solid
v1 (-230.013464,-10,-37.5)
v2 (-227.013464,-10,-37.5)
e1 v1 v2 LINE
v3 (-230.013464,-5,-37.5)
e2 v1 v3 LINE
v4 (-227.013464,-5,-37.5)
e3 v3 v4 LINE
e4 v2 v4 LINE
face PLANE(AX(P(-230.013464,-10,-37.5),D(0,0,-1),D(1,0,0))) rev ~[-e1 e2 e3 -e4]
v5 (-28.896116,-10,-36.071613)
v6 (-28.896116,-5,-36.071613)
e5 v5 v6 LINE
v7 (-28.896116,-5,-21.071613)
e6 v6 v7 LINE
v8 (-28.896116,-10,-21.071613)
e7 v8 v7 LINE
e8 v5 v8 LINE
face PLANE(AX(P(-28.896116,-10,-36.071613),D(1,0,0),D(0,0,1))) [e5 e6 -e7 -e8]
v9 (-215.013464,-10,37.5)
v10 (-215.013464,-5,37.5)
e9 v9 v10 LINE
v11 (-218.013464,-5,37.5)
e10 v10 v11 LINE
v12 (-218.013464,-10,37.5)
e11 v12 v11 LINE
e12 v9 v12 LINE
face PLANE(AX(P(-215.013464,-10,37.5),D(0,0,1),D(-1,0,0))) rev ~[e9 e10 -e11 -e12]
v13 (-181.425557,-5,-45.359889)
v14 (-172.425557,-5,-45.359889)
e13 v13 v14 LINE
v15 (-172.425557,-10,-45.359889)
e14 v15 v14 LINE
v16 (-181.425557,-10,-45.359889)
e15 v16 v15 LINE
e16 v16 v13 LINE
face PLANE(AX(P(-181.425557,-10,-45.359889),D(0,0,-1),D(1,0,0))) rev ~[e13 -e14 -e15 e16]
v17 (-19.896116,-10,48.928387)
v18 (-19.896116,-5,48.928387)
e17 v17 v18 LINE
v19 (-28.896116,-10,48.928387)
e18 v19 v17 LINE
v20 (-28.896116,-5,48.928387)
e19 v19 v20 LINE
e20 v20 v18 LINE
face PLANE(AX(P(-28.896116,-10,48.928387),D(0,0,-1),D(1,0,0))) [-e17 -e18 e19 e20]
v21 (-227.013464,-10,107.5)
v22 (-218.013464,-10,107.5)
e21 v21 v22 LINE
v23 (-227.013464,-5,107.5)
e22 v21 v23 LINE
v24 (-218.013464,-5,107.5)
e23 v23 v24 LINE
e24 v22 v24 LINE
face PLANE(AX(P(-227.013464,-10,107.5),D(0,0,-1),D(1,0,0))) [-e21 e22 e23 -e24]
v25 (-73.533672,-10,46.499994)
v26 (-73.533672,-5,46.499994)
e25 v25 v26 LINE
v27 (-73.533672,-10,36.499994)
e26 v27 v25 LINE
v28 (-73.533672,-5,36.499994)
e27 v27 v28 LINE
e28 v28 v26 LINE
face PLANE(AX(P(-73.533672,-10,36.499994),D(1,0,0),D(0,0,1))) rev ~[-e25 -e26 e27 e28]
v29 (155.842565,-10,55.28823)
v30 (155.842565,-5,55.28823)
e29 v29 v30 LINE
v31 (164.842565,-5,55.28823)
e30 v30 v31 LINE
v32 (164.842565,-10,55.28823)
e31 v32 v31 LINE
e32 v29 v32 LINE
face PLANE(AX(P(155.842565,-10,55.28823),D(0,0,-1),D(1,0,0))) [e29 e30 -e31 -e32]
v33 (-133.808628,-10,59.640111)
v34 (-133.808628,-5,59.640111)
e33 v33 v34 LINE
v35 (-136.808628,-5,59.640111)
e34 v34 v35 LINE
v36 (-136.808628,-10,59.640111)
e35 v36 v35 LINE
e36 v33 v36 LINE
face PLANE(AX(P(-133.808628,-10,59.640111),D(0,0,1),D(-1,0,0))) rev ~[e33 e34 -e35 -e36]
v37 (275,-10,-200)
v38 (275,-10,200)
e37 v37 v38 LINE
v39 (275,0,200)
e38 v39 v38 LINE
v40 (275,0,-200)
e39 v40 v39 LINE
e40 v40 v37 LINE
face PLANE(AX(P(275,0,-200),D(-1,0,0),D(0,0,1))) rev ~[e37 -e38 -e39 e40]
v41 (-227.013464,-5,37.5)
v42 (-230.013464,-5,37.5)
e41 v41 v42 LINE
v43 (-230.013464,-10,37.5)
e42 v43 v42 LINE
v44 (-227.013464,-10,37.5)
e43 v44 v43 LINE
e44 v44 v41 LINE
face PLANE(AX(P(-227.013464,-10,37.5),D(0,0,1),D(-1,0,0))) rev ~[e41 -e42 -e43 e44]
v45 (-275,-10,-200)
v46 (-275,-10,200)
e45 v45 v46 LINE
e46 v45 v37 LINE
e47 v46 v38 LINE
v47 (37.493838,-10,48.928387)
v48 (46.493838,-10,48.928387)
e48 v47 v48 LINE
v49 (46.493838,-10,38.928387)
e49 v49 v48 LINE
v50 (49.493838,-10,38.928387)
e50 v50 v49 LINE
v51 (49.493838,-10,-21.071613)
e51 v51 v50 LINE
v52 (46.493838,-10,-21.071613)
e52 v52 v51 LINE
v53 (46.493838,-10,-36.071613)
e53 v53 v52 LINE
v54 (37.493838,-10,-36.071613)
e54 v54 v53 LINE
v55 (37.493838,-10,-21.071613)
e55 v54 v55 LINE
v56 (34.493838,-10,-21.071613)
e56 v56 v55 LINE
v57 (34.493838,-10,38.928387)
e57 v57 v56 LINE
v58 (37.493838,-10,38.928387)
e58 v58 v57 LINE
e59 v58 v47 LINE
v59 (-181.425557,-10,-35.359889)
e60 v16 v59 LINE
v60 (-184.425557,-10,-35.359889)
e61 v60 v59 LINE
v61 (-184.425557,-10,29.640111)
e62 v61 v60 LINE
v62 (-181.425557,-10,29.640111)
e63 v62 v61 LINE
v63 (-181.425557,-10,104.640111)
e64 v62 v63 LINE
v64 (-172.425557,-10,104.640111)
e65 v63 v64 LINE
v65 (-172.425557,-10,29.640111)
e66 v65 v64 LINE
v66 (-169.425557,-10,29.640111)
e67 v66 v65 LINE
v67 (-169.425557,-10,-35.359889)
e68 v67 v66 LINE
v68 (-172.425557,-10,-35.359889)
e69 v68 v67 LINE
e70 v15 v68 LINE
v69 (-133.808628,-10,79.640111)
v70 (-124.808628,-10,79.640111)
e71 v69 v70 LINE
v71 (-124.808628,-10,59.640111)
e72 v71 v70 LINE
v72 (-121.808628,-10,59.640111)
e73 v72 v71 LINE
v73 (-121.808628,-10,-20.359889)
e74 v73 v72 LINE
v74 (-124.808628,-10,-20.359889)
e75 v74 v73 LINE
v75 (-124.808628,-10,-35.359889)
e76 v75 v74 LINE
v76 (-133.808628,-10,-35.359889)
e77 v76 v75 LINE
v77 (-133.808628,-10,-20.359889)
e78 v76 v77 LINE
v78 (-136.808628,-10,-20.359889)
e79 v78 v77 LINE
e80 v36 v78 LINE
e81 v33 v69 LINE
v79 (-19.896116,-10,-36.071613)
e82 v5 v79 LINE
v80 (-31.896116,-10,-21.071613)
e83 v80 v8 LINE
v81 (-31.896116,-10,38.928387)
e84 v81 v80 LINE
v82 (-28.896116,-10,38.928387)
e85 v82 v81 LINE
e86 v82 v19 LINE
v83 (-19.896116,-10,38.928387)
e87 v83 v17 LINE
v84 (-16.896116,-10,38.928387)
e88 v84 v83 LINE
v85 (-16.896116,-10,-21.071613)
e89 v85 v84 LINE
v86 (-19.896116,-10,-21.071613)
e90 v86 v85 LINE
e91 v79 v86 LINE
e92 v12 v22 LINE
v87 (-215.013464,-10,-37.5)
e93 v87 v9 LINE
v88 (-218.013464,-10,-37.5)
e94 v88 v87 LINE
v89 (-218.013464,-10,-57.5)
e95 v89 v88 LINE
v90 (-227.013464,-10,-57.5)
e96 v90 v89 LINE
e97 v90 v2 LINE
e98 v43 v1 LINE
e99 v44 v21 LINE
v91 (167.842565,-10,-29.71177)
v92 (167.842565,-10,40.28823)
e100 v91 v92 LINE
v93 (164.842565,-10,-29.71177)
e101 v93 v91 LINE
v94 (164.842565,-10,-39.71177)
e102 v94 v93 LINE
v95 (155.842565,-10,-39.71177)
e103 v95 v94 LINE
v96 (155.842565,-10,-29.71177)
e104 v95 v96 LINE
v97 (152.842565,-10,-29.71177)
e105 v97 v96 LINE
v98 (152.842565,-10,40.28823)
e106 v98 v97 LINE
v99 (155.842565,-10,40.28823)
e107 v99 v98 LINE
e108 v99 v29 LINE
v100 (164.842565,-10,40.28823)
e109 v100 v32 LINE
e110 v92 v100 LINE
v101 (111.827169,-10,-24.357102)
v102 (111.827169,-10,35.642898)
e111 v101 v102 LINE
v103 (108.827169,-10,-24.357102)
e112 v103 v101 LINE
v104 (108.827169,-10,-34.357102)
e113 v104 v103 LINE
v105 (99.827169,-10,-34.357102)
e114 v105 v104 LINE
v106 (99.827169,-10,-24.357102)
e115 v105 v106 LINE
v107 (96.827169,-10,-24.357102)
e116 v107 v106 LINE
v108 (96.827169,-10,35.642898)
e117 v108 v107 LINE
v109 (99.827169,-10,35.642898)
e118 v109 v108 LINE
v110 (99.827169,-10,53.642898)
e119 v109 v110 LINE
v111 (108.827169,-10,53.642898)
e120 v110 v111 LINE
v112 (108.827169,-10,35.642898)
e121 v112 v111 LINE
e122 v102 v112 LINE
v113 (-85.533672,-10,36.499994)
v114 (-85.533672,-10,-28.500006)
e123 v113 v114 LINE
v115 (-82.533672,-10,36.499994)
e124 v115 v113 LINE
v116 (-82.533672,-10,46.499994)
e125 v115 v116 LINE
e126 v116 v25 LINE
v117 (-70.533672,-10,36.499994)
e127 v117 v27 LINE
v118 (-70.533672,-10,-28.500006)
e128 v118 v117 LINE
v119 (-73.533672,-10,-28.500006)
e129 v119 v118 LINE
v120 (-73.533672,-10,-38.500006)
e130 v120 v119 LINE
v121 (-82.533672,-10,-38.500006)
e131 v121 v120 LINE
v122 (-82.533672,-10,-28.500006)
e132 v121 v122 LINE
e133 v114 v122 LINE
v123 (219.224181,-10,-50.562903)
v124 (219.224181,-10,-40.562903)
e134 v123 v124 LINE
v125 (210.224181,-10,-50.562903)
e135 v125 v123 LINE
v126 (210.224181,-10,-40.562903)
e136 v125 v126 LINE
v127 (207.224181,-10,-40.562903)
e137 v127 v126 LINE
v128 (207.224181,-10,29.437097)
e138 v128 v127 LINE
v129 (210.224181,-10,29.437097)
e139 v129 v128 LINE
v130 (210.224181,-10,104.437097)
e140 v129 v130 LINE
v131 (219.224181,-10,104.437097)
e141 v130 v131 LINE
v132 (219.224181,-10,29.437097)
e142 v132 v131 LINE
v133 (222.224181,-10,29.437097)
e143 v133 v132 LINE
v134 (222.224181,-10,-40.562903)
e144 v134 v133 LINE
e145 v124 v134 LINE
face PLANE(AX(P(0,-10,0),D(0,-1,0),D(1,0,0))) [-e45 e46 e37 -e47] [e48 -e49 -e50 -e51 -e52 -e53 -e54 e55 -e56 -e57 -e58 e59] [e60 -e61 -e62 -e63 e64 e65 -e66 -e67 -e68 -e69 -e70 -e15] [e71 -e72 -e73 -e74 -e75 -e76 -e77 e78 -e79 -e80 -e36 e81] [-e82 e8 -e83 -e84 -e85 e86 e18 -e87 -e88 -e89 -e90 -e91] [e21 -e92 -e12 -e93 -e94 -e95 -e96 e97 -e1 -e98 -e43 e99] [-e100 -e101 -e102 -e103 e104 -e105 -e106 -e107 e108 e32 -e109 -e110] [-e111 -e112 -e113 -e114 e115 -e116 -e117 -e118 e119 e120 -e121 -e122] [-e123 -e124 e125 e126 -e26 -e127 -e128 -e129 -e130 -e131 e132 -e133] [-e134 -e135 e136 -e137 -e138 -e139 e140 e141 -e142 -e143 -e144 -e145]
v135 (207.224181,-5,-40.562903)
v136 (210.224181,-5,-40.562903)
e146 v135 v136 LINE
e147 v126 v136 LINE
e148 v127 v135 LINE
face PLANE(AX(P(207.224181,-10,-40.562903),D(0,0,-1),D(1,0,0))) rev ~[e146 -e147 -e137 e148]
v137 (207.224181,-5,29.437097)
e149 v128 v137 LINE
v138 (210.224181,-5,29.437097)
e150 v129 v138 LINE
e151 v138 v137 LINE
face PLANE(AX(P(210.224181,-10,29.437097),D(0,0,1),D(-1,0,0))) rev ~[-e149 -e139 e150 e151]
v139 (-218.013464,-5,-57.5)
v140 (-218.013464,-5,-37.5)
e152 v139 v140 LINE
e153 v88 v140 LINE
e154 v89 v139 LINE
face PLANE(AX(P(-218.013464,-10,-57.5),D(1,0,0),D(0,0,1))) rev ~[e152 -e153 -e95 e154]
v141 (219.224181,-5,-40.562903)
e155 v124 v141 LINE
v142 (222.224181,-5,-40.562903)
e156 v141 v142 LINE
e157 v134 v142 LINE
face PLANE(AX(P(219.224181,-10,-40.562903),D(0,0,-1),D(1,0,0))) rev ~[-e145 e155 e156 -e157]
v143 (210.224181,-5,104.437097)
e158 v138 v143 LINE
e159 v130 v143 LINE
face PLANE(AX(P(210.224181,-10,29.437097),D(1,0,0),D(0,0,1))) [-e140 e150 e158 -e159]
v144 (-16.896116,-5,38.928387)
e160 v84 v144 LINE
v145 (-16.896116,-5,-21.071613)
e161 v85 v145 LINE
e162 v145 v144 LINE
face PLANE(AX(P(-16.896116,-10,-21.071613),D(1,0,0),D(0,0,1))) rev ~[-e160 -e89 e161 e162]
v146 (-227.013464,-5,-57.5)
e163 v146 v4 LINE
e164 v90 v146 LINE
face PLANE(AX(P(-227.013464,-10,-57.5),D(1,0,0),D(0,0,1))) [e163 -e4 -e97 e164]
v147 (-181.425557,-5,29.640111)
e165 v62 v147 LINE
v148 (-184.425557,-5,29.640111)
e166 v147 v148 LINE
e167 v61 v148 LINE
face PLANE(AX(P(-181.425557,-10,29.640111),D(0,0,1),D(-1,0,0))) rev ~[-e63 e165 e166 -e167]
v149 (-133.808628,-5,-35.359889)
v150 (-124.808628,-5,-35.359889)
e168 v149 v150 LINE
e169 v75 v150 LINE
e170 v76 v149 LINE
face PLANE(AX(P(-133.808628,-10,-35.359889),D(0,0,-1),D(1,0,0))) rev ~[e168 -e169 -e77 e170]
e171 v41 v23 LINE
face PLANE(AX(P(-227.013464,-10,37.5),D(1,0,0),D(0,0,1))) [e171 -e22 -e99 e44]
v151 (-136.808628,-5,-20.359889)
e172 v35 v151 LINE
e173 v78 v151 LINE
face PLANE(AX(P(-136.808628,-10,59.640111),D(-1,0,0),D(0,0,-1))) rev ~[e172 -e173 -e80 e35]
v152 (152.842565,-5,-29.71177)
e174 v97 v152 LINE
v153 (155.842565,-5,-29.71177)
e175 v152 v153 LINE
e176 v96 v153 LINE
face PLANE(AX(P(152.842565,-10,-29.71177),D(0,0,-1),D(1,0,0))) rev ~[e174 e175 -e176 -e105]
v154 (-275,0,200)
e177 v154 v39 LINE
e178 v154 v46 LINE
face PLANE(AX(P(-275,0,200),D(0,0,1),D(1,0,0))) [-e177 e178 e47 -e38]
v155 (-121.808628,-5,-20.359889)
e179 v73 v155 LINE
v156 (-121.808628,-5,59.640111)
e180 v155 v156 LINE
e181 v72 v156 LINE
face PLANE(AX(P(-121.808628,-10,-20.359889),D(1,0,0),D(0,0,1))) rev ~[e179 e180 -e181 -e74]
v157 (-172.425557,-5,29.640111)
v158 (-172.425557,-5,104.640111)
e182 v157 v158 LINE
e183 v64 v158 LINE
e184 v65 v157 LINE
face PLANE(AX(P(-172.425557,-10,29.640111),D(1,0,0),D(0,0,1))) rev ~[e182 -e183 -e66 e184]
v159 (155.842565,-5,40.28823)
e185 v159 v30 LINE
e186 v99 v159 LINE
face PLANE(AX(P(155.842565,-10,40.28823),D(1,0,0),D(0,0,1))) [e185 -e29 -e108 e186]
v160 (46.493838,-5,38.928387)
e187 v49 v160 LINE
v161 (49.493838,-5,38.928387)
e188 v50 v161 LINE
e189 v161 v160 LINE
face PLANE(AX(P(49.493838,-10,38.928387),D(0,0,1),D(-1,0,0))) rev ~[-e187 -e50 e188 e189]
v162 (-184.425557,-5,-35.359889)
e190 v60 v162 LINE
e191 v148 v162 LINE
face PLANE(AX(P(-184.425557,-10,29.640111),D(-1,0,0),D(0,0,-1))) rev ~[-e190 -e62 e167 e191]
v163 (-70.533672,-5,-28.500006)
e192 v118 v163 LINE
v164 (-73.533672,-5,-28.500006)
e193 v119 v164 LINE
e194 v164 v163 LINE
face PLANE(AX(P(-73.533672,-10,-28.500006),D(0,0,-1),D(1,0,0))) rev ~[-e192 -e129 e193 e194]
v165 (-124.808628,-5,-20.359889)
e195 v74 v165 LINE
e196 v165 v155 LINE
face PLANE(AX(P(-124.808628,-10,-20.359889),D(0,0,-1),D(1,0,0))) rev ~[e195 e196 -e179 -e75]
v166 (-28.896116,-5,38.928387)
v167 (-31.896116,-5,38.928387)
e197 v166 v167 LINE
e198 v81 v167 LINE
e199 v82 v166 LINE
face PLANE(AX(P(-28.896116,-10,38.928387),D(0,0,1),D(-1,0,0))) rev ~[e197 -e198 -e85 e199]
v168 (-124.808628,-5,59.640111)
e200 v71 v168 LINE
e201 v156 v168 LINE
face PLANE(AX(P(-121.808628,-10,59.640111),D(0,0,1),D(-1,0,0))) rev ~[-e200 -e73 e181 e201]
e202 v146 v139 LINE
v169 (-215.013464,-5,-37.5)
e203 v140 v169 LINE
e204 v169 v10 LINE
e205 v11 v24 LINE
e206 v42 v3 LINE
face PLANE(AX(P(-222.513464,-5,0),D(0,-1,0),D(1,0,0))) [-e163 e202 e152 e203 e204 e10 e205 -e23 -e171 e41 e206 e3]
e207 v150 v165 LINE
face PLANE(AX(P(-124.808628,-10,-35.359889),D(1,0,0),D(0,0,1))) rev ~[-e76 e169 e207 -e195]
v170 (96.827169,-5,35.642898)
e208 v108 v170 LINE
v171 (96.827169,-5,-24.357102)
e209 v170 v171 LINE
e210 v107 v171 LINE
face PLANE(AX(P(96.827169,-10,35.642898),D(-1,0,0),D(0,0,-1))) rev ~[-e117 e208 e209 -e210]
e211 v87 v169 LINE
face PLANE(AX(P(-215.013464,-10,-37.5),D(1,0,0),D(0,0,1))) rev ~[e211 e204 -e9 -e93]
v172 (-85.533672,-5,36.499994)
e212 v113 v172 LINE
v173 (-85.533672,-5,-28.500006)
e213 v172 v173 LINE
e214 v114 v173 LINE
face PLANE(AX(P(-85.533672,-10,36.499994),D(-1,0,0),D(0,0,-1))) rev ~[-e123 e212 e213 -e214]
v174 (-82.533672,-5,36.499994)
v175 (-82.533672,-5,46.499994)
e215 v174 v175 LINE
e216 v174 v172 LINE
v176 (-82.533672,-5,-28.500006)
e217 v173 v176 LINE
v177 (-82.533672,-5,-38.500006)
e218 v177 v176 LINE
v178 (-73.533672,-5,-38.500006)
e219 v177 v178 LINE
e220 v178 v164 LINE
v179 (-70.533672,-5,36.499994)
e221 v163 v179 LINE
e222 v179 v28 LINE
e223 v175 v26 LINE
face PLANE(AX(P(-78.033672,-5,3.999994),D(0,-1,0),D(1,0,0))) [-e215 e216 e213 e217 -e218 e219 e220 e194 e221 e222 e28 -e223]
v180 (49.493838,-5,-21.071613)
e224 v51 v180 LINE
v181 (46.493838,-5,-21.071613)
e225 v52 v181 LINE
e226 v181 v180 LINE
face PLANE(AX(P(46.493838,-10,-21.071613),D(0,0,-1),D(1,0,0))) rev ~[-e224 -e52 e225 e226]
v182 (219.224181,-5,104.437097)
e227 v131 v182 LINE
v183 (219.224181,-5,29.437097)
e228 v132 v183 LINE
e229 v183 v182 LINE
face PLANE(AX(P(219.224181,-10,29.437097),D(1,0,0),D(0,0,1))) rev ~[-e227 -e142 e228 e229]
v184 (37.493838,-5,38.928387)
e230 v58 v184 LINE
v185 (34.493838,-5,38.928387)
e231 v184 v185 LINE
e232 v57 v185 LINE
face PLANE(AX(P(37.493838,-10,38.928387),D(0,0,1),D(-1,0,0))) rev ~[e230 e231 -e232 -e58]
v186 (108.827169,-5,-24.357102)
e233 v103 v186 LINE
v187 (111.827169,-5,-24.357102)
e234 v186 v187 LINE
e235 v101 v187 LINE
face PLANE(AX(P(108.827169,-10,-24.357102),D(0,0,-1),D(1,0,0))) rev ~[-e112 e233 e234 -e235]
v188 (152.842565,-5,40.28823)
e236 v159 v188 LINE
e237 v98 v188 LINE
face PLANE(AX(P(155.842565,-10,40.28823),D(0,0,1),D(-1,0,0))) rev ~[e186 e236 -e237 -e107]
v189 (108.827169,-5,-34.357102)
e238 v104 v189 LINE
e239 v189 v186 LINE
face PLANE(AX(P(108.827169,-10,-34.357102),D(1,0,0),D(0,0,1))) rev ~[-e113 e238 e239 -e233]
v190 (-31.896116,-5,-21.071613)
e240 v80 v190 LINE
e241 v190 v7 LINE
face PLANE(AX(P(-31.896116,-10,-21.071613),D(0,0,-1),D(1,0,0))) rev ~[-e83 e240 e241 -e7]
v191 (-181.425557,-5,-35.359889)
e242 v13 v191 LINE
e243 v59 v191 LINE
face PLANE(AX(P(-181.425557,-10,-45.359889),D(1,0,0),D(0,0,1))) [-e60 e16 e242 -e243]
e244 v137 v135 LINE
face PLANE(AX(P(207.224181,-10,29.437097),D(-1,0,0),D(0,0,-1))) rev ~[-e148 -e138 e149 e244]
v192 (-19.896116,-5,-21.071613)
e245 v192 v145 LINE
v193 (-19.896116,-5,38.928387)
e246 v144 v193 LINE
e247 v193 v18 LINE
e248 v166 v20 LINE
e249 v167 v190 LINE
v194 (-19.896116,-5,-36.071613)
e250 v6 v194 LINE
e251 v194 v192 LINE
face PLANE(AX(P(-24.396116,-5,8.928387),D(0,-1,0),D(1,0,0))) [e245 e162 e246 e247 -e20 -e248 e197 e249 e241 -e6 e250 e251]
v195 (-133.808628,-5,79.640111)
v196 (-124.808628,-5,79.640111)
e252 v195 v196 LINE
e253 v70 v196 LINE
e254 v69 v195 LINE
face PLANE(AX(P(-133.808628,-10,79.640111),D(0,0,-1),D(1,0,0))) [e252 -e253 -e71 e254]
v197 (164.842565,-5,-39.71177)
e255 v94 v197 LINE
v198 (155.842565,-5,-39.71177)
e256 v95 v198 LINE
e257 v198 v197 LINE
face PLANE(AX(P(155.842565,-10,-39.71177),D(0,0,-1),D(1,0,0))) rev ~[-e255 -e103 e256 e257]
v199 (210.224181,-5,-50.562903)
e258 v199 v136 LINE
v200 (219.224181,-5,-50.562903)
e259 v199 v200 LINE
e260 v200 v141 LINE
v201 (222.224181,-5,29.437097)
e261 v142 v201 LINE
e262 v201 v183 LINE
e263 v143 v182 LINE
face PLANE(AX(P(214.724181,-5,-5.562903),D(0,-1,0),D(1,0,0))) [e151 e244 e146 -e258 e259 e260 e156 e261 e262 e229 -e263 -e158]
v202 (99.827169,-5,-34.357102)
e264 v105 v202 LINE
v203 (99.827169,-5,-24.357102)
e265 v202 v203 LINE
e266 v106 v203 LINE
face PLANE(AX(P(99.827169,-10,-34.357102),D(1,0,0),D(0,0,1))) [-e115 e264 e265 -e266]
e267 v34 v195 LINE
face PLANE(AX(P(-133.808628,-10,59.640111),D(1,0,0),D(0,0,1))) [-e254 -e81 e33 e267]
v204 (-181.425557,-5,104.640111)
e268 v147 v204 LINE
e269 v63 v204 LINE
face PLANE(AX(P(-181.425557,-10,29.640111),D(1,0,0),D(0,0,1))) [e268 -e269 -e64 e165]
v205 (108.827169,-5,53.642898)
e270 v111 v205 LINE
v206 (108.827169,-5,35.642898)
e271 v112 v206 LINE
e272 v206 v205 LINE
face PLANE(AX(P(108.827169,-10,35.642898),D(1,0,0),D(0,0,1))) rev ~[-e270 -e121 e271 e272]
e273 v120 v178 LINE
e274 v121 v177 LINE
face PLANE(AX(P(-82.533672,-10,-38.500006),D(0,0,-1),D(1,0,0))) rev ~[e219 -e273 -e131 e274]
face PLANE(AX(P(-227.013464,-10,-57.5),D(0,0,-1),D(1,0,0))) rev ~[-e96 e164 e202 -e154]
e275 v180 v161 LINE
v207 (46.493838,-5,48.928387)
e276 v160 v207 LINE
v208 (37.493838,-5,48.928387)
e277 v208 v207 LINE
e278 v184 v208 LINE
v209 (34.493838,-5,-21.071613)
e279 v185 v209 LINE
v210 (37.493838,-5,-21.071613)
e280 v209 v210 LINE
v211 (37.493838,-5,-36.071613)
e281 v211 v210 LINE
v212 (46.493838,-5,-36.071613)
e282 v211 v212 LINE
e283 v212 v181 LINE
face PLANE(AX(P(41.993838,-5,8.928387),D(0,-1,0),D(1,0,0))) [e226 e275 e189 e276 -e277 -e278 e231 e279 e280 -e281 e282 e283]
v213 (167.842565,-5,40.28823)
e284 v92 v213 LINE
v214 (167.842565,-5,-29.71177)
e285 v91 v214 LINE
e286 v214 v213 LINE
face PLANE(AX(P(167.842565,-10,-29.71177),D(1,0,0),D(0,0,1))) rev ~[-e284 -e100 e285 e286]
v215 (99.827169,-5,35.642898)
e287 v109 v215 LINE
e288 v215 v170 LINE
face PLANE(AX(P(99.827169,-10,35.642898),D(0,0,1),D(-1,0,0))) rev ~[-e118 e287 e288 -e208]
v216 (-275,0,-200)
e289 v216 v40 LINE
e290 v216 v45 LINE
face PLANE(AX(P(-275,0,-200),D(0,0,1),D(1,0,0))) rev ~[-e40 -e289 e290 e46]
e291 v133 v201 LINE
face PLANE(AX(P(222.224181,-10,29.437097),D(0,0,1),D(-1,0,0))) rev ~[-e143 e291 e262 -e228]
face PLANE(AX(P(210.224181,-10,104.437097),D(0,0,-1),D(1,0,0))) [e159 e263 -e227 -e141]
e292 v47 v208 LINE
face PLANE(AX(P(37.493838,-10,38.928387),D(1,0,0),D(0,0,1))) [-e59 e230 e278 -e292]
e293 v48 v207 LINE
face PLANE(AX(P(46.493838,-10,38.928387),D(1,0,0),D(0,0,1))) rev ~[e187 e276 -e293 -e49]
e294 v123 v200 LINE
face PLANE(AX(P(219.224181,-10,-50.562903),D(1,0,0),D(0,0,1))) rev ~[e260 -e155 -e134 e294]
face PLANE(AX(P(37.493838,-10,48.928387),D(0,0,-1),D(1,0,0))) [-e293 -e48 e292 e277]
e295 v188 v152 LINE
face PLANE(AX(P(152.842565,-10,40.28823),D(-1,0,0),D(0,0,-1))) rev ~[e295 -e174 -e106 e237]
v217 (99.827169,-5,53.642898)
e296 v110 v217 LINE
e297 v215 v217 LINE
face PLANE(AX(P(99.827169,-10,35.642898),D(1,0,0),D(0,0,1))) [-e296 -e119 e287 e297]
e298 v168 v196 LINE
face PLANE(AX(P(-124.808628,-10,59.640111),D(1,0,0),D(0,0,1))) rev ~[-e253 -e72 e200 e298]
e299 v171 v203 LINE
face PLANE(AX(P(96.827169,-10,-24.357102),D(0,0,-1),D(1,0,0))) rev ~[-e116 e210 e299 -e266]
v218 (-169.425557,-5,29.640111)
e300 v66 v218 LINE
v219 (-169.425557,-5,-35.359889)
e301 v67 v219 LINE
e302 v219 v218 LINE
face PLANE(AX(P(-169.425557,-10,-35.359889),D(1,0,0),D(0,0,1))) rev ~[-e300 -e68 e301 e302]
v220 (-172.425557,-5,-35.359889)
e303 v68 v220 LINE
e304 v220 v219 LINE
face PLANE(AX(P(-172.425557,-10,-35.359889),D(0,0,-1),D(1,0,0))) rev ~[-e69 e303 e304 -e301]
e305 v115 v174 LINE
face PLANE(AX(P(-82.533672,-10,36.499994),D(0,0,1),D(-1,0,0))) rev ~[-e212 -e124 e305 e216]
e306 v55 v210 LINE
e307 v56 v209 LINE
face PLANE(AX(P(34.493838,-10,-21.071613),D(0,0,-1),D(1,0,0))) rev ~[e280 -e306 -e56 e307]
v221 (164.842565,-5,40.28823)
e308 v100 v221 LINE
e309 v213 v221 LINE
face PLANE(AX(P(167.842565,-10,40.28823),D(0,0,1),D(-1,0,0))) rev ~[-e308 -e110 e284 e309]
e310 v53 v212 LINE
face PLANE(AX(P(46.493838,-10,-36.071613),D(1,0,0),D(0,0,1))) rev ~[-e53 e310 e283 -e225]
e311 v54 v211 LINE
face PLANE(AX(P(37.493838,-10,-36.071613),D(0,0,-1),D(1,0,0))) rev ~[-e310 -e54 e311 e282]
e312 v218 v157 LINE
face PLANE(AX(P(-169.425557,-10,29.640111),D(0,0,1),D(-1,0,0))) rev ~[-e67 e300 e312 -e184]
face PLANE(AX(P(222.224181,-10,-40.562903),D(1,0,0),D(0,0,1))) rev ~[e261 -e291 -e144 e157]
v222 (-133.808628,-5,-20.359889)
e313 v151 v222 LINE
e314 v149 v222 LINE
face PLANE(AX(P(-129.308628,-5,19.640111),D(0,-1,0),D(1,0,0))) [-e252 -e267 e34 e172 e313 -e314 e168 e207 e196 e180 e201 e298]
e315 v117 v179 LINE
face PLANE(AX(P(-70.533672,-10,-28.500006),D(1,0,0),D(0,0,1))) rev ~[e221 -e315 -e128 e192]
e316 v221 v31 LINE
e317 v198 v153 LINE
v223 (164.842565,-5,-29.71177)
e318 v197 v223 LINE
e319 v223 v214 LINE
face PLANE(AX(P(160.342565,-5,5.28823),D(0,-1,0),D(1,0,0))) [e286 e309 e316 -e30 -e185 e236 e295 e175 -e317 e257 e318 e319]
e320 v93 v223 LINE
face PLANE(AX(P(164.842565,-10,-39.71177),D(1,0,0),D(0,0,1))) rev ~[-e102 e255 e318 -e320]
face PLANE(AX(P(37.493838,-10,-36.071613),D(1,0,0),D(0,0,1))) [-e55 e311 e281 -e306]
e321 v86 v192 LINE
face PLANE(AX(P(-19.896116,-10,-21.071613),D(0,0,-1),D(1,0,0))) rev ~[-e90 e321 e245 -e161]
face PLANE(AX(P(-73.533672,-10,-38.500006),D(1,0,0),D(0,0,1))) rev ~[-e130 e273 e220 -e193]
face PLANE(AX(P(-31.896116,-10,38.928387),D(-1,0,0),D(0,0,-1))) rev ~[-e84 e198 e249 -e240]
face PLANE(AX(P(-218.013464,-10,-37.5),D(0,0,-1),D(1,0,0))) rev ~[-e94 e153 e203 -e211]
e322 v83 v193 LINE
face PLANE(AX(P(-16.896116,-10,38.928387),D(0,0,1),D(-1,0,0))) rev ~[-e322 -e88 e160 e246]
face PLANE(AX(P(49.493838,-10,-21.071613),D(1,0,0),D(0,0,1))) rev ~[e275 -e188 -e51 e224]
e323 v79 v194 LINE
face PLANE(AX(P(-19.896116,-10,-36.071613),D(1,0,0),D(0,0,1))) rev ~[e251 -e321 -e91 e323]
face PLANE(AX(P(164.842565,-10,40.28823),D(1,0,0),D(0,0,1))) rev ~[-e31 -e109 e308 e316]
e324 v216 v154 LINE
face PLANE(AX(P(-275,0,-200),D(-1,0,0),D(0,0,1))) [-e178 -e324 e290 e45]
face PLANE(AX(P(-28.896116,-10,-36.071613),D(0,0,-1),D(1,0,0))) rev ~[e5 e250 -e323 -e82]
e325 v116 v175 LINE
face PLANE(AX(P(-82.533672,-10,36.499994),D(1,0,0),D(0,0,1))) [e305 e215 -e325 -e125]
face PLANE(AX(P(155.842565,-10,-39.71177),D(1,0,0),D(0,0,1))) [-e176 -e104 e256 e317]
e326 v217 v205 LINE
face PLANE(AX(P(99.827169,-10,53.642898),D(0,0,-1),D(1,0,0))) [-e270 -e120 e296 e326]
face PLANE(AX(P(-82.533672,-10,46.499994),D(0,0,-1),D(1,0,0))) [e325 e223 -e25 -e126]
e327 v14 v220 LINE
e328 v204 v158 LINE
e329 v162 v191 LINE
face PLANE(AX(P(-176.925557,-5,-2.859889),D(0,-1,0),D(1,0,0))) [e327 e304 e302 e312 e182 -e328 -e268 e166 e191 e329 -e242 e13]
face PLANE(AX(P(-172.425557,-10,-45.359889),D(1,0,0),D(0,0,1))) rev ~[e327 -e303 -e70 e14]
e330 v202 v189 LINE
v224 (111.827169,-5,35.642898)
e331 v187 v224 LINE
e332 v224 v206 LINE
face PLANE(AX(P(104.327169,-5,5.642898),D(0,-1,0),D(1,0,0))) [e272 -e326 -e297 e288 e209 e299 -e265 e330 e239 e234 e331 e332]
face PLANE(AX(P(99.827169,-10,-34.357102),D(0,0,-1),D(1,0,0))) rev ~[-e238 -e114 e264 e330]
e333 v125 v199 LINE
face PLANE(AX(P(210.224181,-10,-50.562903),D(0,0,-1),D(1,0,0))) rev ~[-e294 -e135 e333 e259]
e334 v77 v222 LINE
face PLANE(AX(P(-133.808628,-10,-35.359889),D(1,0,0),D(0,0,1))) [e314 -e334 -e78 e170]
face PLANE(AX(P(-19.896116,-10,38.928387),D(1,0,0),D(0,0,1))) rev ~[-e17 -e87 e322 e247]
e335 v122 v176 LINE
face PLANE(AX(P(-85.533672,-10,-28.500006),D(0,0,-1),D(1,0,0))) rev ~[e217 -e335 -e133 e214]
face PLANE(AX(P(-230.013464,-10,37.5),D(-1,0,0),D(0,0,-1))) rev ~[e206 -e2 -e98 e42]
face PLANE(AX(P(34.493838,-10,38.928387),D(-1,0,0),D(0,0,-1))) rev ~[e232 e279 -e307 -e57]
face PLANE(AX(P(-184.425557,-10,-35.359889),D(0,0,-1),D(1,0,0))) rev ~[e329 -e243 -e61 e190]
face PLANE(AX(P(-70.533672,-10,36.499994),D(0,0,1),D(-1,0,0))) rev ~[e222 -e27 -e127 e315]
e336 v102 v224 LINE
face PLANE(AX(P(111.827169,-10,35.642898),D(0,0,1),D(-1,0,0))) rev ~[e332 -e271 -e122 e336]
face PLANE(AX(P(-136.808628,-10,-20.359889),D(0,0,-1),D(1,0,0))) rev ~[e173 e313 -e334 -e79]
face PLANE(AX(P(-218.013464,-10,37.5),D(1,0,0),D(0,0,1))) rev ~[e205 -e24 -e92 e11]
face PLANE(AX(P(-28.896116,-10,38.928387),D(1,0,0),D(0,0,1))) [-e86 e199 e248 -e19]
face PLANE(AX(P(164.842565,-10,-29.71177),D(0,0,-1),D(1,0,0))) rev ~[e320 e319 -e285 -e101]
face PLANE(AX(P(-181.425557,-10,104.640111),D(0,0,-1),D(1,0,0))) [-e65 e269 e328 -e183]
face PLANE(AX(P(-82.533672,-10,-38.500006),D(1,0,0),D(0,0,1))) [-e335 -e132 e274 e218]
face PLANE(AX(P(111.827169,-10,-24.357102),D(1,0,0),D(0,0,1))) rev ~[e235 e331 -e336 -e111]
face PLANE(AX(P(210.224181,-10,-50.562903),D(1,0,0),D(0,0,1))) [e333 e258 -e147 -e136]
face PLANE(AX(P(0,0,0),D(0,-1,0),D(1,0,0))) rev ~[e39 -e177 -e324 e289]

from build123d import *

# Parameters (mm, degrees)
F0_W     = 550
F0_H     = 400
F1_DEPTH = 10
F2_W     = 9
F2_H     = 20
F2_H_2   = 70
F2_H_3   = 10
F2_H_4   = 75
F2_H_5   = 15
F2_H_6   = 18
F3_DEPTH = 5


with BuildPart() as f1:
    # F0 (on Front) → F1 (new body)
    with BuildSketch(Plane.XZ):
        Rectangle(F0_W, F0_H)
    extrude(amount=F1_DEPTH)

    # F2 (on face) → F3 (cut)
    with BuildSketch(Plane.XZ.offset(10)):
        Polygon((-218.013464, -37.5), (-215.013464, -37.5), (-215.013464, 37.5), (-218.013464, 37.5), (-227.013464, 37.5), (-230.013464, 37.5), (-230.013464, -37.5), (-227.013464, -37.5), align=None)
        with Locations((-222.513464, -47.5)):
            Rectangle(F2_W, F2_H)
        with Locations((-222.513464, 72.5)):
            Rectangle(F2_W, F2_H_2)
        Polygon((219.224181, -40.562903), (222.224181, -40.562903), (222.224181, 29.437097), (219.224181, 29.437097), (210.224181, 29.437097), (207.224181, 29.437097), (207.224181, -40.562903), (210.224181, -40.562903), align=None)
        with Locations((214.724181, -45.562903)):
            Rectangle(F2_W, F2_H_3)
        with Locations((214.724181, 66.937097)):
            Rectangle(F2_W, F2_H_4)
        Polygon((-172.425557, -35.359889), (-169.425557, -35.359889), (-169.425557, 29.640111), (-172.425557, 29.640111), (-181.425557, 29.640111), (-184.425557, 29.640111), (-184.425557, -35.359889), (-181.425557, -35.359889), align=None)
        with Locations((-176.925557, -40.359889)):
            Rectangle(F2_W, F2_H_3)
        with Locations((-176.925557, 67.140111)):
            Rectangle(F2_W, F2_H_4)
        Polygon((-124.808628, -20.359889), (-121.808628, -20.359889), (-121.808628, 59.640111), (-124.808628, 59.640111), (-133.808628, 59.640111), (-136.808628, 59.640111), (-136.808628, -20.359889), (-133.808628, -20.359889), align=None)
        with Locations((-129.308628, -27.859889)):
            Rectangle(F2_W, F2_H_5)
        with Locations((-129.308628, 69.640111)):
            Rectangle(F2_W, F2_H)
        Polygon((-73.533672, -28.500006), (-70.533672, -28.500006), (-70.533672, 36.499994), (-73.533672, 36.499994), (-82.533672, 36.499994), (-85.533672, 36.499994), (-85.533672, -28.500006), (-82.533672, -28.500006), align=None)
        with Locations((-78.033672, -33.500006)):
            Rectangle(F2_W, F2_H_3)
        with Locations((-78.033672, 41.499994)):
            Rectangle(F2_W, F2_H_3)
        Polygon((-19.896116, -21.071613), (-16.896116, -21.071613), (-16.896116, 38.928387), (-19.896116, 38.928387), (-28.896116, 38.928387), (-31.896116, 38.928387), (-31.896116, -21.071613), (-28.896116, -21.071613), align=None)
        with Locations((-24.396116, -28.571613)):
            Rectangle(F2_W, F2_H_5)
        with Locations((-24.396116, 43.928387)):
            Rectangle(F2_W, F2_H_3)
        Polygon((46.493838, -21.071613), (49.493838, -21.071613), (49.493838, 38.928387), (46.493838, 38.928387), (37.493838, 38.928387), (34.493838, 38.928387), (34.493838, -21.071613), (37.493838, -21.071613), align=None)
        with Locations((41.993838, -28.571613)):
            Rectangle(F2_W, F2_H_5)
        with Locations((41.993838, 43.928387)):
            Rectangle(F2_W, F2_H_3)
        Polygon((108.827169, -24.357102), (111.827169, -24.357102), (111.827169, 35.642898), (108.827169, 35.642898), (99.827169, 35.642898), (96.827169, 35.642898), (96.827169, -24.357102), (99.827169, -24.357102), align=None)
        with Locations((104.327169, -29.357102)):
            Rectangle(F2_W, F2_H_3)
        with Locations((104.327169, 44.642898)):
            Rectangle(F2_W, F2_H_6)
        Polygon((164.842565, -29.71177), (167.842565, -29.71177), (167.842565, 40.28823), (164.842565, 40.28823), (155.842565, 40.28823), (152.842565, 40.28823), (152.842565, -29.71177), (155.842565, -29.71177), align=None)
        with Locations((160.342565, -34.71177)):
            Rectangle(F2_W, F2_H_3)
        with Locations((160.342565, 47.78823)):
            Rectangle(F2_W, F2_H_5)
    extrude(amount=-F3_DEPTH, mode=Mode.SUBTRACT)


solid = f1.part
